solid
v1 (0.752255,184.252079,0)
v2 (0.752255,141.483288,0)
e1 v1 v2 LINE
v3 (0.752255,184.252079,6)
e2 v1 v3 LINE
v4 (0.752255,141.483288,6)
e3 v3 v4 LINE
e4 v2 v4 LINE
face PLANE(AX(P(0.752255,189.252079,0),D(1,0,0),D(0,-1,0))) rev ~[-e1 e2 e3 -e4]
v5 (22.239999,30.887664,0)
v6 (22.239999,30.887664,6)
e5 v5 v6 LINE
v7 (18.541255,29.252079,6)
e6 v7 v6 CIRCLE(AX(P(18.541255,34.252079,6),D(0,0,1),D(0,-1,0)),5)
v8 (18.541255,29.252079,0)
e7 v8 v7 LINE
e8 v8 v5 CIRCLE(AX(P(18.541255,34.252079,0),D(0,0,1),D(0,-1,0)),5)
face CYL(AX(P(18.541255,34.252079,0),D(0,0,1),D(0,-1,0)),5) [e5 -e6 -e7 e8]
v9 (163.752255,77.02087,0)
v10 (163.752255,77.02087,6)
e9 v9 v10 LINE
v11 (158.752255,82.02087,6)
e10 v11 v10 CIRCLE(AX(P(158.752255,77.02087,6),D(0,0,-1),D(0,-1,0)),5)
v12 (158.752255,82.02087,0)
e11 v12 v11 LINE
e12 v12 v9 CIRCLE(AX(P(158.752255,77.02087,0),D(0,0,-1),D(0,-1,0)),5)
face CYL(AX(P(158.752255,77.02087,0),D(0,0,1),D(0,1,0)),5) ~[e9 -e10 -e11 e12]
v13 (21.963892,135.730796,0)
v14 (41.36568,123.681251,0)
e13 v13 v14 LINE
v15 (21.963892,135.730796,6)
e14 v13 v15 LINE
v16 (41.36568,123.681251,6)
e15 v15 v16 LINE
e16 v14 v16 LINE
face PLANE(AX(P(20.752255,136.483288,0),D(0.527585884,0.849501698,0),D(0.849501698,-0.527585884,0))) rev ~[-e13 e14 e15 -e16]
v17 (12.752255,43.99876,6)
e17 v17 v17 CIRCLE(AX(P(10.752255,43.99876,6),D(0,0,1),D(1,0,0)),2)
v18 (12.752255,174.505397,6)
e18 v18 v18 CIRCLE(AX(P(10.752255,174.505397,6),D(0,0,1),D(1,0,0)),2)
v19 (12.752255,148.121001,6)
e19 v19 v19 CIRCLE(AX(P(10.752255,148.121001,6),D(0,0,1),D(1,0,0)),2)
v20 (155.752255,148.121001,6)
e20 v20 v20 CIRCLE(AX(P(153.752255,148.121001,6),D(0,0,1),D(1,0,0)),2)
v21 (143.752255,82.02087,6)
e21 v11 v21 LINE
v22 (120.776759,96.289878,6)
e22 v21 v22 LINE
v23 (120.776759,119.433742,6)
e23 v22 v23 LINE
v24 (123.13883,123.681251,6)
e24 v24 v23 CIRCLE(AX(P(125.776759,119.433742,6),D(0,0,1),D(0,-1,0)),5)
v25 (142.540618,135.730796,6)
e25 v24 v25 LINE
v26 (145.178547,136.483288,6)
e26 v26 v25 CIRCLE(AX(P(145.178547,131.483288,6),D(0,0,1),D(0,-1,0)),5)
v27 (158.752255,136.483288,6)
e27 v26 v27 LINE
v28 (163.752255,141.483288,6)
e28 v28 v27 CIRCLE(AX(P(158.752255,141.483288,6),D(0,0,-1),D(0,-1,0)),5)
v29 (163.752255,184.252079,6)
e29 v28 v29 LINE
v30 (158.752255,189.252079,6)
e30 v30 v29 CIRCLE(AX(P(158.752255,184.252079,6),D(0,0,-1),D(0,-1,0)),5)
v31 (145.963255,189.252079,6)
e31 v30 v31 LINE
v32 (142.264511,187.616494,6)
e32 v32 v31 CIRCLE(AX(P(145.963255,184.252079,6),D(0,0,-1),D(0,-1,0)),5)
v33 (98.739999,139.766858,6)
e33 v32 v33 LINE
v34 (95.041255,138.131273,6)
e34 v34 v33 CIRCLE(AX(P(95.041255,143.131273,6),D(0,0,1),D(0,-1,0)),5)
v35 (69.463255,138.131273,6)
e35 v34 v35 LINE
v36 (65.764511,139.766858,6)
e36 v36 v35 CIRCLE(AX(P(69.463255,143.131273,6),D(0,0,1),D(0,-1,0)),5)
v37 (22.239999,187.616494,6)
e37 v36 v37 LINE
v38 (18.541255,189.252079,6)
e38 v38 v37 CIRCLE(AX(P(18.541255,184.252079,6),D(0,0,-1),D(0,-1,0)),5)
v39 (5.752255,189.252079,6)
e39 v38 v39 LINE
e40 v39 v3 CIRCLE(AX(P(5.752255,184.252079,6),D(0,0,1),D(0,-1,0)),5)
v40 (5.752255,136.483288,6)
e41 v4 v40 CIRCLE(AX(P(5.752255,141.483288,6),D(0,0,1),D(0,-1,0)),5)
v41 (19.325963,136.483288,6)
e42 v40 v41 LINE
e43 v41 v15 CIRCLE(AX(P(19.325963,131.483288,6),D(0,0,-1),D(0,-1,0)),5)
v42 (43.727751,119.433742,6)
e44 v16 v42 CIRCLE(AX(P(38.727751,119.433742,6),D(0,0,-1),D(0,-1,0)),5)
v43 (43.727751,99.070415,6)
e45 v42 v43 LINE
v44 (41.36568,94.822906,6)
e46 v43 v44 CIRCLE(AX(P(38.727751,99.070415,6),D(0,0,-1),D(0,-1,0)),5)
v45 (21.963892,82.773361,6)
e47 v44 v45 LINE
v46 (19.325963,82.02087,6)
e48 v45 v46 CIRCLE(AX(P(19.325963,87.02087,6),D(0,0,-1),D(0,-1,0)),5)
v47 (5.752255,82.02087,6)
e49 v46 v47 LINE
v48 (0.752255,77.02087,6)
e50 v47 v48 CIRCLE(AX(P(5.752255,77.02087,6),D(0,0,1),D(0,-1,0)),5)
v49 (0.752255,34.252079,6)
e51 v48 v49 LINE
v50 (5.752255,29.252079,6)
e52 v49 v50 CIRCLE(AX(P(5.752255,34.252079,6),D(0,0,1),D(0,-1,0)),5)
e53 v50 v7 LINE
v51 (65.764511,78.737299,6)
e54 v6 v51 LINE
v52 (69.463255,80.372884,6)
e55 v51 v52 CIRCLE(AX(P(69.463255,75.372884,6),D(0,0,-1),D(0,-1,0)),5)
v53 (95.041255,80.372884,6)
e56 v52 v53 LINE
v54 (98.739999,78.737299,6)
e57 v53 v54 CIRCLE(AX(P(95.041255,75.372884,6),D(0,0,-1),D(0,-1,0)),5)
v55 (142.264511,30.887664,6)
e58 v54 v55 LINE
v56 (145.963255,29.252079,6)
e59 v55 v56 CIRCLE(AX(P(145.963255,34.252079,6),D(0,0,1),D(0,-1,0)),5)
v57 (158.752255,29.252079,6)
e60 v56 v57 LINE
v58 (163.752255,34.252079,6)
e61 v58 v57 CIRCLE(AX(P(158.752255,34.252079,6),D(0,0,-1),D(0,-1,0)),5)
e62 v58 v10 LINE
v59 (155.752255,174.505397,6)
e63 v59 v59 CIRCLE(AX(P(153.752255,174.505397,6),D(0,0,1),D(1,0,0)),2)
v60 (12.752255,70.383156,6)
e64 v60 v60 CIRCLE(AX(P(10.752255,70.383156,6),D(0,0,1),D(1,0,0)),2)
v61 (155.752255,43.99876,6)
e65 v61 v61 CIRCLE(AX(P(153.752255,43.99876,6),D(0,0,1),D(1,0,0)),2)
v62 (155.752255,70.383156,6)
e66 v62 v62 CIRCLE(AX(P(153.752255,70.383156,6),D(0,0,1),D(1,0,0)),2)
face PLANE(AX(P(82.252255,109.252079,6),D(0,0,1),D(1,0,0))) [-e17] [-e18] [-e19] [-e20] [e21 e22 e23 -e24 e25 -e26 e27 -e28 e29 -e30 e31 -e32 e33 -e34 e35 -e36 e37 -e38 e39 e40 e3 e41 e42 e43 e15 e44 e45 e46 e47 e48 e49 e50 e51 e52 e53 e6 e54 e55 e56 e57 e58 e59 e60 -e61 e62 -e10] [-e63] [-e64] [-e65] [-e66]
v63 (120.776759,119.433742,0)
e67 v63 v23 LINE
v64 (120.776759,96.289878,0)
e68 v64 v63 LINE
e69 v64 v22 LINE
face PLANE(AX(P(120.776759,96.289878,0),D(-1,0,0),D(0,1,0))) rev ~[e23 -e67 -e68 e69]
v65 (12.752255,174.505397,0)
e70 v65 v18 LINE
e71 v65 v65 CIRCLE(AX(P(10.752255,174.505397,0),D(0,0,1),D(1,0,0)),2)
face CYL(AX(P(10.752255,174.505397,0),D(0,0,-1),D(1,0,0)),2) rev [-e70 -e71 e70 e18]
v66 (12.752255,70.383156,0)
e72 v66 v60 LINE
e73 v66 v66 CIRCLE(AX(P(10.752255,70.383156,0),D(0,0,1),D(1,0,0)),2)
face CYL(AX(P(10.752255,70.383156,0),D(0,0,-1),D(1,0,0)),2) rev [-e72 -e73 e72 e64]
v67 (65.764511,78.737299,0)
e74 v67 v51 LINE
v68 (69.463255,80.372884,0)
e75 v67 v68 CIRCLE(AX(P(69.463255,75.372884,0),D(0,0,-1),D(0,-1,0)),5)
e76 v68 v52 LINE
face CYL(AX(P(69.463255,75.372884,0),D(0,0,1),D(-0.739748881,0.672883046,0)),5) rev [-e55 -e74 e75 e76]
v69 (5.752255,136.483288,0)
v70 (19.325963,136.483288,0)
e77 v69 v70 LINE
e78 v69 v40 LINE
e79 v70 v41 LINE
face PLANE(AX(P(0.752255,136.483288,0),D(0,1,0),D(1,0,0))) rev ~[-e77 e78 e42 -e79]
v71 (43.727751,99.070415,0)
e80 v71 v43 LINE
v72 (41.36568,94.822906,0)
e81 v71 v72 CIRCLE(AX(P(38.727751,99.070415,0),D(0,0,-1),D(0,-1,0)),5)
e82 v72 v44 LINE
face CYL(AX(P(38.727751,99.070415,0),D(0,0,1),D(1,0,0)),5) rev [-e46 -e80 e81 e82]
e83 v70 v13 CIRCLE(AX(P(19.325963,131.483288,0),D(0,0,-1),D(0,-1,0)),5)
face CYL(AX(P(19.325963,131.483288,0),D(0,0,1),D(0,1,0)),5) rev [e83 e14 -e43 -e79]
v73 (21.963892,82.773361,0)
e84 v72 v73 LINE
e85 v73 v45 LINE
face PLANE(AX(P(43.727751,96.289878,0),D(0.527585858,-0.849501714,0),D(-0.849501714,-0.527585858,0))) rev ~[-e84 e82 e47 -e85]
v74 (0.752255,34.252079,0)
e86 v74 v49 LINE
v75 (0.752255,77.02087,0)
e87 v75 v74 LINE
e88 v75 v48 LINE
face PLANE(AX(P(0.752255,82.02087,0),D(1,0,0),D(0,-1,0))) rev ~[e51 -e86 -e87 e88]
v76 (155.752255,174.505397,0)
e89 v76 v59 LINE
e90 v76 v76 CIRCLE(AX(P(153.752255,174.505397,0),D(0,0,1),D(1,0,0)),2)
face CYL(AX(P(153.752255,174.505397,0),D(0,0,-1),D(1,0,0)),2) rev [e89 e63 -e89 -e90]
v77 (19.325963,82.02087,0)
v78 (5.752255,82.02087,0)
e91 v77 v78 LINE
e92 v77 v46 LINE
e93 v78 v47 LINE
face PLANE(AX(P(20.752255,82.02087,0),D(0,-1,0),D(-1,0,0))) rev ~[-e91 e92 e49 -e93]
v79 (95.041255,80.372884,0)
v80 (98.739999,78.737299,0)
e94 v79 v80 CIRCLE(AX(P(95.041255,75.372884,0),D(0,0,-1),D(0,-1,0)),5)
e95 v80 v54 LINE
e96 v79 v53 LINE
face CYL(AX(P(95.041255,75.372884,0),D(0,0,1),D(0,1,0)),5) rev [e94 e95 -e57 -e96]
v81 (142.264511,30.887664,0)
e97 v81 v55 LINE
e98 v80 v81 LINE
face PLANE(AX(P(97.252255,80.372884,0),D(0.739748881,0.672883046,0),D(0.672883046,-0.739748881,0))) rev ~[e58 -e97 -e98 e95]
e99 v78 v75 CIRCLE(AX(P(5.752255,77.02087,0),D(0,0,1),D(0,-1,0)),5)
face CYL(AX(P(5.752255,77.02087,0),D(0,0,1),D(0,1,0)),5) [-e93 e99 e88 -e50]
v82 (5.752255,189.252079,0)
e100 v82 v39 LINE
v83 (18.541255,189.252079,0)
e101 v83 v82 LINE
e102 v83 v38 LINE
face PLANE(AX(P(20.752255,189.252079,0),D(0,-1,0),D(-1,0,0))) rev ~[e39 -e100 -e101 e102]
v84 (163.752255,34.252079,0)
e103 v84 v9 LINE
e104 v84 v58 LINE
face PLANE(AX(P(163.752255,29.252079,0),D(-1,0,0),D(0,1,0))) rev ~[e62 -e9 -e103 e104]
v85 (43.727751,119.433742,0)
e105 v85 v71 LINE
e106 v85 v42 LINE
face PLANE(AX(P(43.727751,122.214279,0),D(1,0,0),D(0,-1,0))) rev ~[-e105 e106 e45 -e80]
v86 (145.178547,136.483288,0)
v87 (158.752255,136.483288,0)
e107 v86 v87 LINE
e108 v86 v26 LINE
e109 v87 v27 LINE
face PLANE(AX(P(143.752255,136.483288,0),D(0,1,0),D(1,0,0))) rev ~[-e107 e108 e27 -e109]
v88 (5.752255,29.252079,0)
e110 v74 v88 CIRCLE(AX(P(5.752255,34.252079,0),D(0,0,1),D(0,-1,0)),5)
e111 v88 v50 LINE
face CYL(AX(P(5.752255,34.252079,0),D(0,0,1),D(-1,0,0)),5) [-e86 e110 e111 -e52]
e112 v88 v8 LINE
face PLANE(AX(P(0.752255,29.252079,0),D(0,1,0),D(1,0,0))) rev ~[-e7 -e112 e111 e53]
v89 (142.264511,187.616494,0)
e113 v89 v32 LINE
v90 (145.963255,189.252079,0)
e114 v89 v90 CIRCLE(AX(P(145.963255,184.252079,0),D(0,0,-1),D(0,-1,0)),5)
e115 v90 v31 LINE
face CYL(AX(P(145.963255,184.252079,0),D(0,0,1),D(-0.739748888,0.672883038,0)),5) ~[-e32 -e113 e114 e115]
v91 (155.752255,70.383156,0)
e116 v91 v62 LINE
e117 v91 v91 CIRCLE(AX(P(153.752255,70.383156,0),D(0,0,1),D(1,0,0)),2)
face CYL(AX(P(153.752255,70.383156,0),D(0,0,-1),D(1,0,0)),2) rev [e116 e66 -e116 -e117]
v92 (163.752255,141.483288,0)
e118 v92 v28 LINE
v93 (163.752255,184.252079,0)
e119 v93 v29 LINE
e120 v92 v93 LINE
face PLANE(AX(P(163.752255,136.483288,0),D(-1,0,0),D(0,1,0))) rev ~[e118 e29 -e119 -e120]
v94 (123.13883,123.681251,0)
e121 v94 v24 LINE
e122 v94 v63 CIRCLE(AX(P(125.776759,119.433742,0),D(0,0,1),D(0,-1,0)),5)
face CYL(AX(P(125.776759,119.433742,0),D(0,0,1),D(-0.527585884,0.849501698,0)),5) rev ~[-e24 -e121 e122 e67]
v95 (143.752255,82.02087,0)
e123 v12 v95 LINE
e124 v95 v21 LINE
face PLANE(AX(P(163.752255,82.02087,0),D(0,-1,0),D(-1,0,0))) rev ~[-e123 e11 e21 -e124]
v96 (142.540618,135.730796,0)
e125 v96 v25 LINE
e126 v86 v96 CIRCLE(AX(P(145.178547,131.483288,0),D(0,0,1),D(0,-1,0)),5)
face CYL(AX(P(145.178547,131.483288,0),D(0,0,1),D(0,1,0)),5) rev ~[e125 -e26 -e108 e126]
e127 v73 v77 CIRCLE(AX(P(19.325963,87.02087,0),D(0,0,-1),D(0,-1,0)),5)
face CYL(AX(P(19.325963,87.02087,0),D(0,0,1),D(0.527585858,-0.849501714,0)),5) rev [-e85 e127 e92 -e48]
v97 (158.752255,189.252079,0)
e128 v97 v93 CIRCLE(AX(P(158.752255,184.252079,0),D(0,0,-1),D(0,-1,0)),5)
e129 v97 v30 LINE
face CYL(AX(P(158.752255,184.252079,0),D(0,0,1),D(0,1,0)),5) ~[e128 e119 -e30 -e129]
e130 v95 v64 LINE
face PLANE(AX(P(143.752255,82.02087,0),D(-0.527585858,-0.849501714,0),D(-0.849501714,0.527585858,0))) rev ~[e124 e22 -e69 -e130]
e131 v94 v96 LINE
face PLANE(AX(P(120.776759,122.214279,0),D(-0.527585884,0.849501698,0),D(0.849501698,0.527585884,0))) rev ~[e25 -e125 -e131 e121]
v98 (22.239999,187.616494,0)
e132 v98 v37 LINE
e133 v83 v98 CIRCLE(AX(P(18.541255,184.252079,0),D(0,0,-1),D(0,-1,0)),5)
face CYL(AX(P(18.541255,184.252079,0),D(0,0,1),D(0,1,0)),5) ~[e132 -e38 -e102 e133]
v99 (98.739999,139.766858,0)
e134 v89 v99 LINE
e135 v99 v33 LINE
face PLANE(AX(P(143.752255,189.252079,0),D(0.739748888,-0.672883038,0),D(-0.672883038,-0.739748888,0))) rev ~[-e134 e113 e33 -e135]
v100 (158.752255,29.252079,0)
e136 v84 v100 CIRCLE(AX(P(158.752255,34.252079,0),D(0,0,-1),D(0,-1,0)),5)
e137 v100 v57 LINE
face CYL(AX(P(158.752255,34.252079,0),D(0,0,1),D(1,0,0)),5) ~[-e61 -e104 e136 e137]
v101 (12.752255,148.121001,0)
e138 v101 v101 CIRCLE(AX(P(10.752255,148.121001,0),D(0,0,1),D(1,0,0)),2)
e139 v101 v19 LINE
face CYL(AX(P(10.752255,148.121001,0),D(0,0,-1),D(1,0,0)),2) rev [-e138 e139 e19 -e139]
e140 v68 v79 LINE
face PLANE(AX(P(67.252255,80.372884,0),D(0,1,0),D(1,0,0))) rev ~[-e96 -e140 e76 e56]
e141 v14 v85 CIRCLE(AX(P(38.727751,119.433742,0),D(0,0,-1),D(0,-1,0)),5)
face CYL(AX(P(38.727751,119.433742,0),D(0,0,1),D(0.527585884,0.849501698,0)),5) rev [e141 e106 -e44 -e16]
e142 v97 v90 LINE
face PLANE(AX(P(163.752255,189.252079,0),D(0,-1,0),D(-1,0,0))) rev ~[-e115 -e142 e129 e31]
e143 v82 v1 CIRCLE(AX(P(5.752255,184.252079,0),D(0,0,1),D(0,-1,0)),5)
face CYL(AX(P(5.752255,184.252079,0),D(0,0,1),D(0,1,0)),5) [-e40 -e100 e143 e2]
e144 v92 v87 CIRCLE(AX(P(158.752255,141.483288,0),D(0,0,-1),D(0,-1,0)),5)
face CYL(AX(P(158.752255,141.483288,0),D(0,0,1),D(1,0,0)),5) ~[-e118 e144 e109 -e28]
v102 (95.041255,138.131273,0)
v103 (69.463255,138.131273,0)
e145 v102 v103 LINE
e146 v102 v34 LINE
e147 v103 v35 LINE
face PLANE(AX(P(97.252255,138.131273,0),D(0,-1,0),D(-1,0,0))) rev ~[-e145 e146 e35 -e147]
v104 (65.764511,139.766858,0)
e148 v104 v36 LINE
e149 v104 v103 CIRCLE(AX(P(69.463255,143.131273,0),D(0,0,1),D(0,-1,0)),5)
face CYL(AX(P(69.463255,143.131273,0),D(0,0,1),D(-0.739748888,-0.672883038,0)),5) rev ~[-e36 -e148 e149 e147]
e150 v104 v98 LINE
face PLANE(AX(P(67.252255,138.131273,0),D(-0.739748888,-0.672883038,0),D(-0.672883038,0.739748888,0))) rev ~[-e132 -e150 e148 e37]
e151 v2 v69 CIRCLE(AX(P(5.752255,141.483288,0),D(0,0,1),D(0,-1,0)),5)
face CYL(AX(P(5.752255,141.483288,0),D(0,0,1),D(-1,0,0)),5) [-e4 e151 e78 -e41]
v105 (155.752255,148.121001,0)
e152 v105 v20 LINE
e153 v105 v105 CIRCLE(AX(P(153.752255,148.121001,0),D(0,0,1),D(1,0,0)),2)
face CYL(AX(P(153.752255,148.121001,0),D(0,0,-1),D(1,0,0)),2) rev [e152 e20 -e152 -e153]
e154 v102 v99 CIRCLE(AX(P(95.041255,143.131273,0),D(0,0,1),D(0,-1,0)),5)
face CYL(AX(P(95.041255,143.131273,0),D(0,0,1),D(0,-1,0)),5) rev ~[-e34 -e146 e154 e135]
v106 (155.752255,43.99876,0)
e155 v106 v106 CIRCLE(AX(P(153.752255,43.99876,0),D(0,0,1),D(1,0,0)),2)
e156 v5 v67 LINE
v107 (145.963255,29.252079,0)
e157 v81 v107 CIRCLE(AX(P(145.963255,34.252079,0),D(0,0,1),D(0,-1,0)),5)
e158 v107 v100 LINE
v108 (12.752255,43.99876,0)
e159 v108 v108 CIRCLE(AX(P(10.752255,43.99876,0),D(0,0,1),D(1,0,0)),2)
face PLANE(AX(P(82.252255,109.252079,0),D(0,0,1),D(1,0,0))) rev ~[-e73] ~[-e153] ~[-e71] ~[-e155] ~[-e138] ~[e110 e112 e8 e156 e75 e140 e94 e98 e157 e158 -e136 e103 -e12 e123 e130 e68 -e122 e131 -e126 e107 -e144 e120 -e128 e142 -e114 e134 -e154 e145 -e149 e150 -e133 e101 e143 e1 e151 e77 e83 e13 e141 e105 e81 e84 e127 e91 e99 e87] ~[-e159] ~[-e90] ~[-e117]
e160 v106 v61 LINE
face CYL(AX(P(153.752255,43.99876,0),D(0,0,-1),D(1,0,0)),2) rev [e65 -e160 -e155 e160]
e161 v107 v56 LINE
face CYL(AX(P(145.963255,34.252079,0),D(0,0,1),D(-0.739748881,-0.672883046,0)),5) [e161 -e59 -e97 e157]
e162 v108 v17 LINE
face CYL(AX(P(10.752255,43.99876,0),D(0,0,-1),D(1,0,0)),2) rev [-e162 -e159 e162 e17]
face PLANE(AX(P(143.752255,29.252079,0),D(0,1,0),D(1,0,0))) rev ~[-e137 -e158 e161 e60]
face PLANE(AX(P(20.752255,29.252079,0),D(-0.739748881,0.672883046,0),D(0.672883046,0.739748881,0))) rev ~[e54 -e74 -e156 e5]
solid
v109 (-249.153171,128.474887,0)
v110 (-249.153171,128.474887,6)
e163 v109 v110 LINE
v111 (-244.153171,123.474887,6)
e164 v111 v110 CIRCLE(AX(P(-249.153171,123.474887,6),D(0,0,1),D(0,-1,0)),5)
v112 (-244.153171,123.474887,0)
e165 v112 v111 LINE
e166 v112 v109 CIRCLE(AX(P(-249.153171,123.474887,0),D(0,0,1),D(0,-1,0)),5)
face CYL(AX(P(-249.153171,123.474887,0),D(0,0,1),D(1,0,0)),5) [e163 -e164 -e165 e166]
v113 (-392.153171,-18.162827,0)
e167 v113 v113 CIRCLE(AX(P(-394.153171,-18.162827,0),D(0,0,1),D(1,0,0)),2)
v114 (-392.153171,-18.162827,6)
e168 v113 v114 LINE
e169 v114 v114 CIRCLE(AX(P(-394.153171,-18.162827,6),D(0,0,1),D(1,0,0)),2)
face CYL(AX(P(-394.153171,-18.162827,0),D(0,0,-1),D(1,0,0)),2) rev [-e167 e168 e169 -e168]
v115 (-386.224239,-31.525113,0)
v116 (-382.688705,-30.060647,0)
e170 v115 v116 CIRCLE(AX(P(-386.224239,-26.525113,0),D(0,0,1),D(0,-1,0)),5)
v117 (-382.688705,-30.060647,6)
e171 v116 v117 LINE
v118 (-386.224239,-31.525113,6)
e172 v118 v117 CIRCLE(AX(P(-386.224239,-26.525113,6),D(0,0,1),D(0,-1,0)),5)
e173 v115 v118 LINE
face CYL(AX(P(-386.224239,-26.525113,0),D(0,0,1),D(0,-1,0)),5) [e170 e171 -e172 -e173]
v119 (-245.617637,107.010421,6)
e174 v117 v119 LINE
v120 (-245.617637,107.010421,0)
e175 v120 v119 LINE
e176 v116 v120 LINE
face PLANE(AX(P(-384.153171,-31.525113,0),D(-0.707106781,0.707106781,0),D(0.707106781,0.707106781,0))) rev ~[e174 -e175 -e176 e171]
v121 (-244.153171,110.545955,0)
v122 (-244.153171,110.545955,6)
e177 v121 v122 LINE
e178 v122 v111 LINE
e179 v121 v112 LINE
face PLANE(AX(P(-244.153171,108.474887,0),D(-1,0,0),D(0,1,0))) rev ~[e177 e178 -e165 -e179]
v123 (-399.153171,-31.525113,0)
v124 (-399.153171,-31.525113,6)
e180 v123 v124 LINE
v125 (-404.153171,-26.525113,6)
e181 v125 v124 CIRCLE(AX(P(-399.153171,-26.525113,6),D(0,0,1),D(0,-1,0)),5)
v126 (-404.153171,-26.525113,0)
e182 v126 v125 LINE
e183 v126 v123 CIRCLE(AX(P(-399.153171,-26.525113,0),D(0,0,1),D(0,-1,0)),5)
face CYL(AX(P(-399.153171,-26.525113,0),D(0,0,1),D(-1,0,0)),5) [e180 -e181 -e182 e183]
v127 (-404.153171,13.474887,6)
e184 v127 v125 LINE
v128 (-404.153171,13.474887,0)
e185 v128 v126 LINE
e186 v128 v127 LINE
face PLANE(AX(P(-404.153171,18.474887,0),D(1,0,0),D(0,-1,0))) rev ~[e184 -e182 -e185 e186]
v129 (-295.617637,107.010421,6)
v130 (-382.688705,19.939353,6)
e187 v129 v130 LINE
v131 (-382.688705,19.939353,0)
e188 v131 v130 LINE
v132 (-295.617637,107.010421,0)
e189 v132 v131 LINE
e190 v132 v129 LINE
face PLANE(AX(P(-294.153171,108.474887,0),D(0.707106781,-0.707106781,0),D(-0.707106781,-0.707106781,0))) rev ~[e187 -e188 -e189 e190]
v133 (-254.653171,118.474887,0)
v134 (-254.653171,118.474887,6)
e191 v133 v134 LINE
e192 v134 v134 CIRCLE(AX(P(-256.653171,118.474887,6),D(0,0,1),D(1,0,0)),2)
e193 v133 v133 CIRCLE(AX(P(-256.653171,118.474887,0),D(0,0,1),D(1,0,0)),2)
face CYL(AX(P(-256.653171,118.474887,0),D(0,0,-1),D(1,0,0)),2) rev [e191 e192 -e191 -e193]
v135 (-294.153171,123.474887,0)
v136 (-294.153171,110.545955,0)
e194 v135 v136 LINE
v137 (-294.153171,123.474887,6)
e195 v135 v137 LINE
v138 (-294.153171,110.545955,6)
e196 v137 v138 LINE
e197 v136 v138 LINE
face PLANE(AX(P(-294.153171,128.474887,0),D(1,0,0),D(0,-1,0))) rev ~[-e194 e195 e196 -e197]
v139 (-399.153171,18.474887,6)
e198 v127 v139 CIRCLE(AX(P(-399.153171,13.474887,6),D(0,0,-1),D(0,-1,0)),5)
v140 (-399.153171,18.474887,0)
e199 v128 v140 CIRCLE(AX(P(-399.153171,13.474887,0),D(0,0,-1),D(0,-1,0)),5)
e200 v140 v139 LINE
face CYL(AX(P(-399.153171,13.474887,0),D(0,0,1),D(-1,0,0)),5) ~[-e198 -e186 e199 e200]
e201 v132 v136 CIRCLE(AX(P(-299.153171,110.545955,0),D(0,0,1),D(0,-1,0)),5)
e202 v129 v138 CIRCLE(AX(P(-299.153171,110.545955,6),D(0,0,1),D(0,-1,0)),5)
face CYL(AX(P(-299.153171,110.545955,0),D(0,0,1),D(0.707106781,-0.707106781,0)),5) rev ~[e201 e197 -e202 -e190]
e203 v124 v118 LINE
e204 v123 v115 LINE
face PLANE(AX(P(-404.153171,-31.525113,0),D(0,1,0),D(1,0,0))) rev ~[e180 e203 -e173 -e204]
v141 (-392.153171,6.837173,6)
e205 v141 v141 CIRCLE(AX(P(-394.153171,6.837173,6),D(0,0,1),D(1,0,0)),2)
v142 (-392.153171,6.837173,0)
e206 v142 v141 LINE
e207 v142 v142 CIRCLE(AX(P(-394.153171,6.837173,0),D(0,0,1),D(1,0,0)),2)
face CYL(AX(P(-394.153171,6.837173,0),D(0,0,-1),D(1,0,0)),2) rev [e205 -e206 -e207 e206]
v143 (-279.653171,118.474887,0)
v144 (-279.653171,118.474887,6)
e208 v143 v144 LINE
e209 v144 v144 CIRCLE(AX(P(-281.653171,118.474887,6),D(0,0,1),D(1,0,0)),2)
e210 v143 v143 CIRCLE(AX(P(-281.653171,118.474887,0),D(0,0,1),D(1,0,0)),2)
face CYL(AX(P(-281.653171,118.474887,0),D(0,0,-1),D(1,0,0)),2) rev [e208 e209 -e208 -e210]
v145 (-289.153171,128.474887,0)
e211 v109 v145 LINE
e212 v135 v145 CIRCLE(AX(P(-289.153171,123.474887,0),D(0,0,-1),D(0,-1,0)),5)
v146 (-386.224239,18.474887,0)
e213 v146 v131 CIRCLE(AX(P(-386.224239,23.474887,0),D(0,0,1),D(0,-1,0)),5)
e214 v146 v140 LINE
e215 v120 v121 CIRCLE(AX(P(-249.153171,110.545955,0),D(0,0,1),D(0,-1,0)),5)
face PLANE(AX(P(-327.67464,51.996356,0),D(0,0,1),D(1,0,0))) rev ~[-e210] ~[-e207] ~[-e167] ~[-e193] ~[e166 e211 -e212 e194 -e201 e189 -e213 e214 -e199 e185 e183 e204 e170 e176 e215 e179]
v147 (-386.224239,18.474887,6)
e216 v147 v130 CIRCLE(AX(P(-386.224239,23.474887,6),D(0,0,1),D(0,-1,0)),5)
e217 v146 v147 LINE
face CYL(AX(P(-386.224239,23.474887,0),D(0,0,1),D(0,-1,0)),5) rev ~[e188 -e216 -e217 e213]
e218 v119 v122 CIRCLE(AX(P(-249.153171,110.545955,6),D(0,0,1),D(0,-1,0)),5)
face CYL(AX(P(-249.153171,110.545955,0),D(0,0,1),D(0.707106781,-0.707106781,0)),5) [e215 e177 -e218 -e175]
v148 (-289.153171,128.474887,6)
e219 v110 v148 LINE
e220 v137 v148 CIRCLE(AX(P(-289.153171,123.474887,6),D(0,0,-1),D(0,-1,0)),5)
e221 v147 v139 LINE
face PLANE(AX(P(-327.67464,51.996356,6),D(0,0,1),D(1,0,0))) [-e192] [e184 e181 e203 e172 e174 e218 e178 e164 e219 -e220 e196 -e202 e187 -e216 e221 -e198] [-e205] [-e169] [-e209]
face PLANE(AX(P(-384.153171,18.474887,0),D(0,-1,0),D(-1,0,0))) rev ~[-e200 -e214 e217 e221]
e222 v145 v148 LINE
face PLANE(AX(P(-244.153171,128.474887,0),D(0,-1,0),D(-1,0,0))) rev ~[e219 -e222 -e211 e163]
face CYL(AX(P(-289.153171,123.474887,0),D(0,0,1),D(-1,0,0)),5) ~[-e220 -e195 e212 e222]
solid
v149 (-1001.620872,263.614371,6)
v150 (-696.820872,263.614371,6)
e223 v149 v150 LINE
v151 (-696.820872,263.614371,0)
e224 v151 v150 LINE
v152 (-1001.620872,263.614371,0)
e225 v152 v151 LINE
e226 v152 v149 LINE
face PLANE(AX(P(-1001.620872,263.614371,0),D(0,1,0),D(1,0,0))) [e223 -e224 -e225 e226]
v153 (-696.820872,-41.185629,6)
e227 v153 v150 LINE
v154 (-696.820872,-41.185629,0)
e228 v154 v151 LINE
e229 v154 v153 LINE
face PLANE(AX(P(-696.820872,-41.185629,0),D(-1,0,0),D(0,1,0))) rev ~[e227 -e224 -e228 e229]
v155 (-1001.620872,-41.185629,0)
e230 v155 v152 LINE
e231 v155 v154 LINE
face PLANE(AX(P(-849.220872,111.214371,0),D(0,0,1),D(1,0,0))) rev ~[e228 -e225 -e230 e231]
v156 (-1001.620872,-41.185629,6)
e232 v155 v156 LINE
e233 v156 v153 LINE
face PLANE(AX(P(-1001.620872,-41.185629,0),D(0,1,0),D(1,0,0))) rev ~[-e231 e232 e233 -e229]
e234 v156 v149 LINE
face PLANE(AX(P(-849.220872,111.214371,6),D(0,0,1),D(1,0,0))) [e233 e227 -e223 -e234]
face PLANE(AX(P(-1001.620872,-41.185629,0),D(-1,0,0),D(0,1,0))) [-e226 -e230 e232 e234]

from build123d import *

# Parameters (mm, degrees)
F0_R     = 2
F1_DEPTH = 6
F2_R     = 5
F3_W     = 304.8
F3_H     = 304.8
F4_DEPTH = 6


with BuildPart() as f1:
    # F0 (on Top) → F1 (new body)
    with BuildSketch(Plane.XY):
        Polygon((20.752255, 189.252079), (0.752255, 189.252079), (0.752255, 136.483288), (20.752255, 136.483288), (43.727751, 122.214279), (43.727751, 96.289878), (20.752255, 82.02087), (0.752255, 82.02087), (0.752255, 29.252079), (20.752255, 29.252079), (67.252255, 80.372884), (82.252255, 80.372884), (97.252255, 80.372884), (143.752255, 29.252079), (163.752255, 29.252079), (163.752255, 82.02087), (143.752255, 82.02087), (120.776759, 96.289878), (120.776759, 122.214279), (143.752255, 136.483288), (163.752255, 136.483288), (163.752255, 189.252079), (143.752255, 189.252079), (97.252255, 138.131273), (82.252255, 138.131273), (67.252255, 138.131273), align=None)
        with Locations((10.752255, 43.99876)):
            Circle(F0_R, mode=Mode.SUBTRACT)
        with Locations((10.752255, 70.383156)):
            Circle(F0_R, mode=Mode.SUBTRACT)
        with Locations((153.752255, 43.99876)):
            Circle(F0_R, mode=Mode.SUBTRACT)
        with Locations((153.752255, 70.383156)):
            Circle(F0_R, mode=Mode.SUBTRACT)
        with Locations((10.752255, 148.121001)):
            Circle(F0_R, mode=Mode.SUBTRACT)
        with Locations((10.752255, 174.505397)):
            Circle(F0_R, mode=Mode.SUBTRACT)
        with Locations((153.752255, 148.121001)):
            Circle(F0_R, mode=Mode.SUBTRACT)
        with Locations((153.752255, 174.505397)):
            Circle(F0_R, mode=Mode.SUBTRACT)
        Polygon((-404.153171, 18.474887), (-404.153171, -31.525113), (-384.153171, -31.525113), (-244.153171, 108.474887), (-244.153171, 128.474887), (-264.153171, 128.474887), (-294.153171, 128.474887), (-294.153171, 108.474887), (-384.153171, 18.474887), align=None)
        with Locations((-394.153171, -18.162827)):
            Circle(F0_R, mode=Mode.SUBTRACT)
        with Locations((-394.153171, 6.837173)):
            Circle(F0_R, mode=Mode.SUBTRACT)
        with Locations((-281.653171, 118.474887)):
            Circle(F0_R, mode=Mode.SUBTRACT)
        with Locations((-256.653171, 118.474887)):
            Circle(F0_R, mode=Mode.SUBTRACT)
    extrude(amount=F1_DEPTH)

    # F2
    f2_edges = [f1.edges().sort_by_distance(p)[0] for p in [
        (67.252255, 138.131273, 3),
        (97.252255, 138.131273, 3),
        (143.752255, 189.252079, 3),
        (20.752255, 189.252079, 3),
        (20.752255, 136.483288, 3),
        (43.727751, 122.214279, 3),
        (43.727751, 96.289878, 3),
        (20.752255, 82.02087, 3),
        (0.752255, 189.252079, 3),
        (163.752255, 189.252079, 3),
        (163.752255, 82.02087, 3),
        (0.752255, 82.02087, 3),
        (0.752255, 136.483288, 3),
        (20.752255, 29.252079, 3),
        (67.252255, 80.372884, 3),
        (97.252255, 80.372884, 3),
        (120.776759, 122.214279, 3),
        (143.752255, 136.483288, 3),
        (163.752255, 136.483288, 3),
        (163.752255, 29.252079, 3),
        (143.752255, 29.252079, 3),
        (0.752255, 29.252079, 3),
        (-294.153171, 128.474887, 3),
        (-294.153171, 108.474887, 3),
        (-384.153171, 18.474887, 3),
        (-404.153171, 18.474887, 3),
        (-244.153171, 128.474887, 3),
        (-244.153171, 108.474887, 3),
        (-384.153171, -31.525113, 3),
        (-404.153171, -31.525113, 3),
    ]]
    fillet(f2_edges, radius=F2_R)


with BuildPart() as f4:
    # F3 (on Top) → F4 (new body)
    with BuildSketch(Plane.XY):
        with Locations((-849.220872, 111.214371)):
            Rectangle(F3_W, F3_H)
    extrude(amount=F4_DEPTH)


solid = Compound([f1.part, f4.part])
